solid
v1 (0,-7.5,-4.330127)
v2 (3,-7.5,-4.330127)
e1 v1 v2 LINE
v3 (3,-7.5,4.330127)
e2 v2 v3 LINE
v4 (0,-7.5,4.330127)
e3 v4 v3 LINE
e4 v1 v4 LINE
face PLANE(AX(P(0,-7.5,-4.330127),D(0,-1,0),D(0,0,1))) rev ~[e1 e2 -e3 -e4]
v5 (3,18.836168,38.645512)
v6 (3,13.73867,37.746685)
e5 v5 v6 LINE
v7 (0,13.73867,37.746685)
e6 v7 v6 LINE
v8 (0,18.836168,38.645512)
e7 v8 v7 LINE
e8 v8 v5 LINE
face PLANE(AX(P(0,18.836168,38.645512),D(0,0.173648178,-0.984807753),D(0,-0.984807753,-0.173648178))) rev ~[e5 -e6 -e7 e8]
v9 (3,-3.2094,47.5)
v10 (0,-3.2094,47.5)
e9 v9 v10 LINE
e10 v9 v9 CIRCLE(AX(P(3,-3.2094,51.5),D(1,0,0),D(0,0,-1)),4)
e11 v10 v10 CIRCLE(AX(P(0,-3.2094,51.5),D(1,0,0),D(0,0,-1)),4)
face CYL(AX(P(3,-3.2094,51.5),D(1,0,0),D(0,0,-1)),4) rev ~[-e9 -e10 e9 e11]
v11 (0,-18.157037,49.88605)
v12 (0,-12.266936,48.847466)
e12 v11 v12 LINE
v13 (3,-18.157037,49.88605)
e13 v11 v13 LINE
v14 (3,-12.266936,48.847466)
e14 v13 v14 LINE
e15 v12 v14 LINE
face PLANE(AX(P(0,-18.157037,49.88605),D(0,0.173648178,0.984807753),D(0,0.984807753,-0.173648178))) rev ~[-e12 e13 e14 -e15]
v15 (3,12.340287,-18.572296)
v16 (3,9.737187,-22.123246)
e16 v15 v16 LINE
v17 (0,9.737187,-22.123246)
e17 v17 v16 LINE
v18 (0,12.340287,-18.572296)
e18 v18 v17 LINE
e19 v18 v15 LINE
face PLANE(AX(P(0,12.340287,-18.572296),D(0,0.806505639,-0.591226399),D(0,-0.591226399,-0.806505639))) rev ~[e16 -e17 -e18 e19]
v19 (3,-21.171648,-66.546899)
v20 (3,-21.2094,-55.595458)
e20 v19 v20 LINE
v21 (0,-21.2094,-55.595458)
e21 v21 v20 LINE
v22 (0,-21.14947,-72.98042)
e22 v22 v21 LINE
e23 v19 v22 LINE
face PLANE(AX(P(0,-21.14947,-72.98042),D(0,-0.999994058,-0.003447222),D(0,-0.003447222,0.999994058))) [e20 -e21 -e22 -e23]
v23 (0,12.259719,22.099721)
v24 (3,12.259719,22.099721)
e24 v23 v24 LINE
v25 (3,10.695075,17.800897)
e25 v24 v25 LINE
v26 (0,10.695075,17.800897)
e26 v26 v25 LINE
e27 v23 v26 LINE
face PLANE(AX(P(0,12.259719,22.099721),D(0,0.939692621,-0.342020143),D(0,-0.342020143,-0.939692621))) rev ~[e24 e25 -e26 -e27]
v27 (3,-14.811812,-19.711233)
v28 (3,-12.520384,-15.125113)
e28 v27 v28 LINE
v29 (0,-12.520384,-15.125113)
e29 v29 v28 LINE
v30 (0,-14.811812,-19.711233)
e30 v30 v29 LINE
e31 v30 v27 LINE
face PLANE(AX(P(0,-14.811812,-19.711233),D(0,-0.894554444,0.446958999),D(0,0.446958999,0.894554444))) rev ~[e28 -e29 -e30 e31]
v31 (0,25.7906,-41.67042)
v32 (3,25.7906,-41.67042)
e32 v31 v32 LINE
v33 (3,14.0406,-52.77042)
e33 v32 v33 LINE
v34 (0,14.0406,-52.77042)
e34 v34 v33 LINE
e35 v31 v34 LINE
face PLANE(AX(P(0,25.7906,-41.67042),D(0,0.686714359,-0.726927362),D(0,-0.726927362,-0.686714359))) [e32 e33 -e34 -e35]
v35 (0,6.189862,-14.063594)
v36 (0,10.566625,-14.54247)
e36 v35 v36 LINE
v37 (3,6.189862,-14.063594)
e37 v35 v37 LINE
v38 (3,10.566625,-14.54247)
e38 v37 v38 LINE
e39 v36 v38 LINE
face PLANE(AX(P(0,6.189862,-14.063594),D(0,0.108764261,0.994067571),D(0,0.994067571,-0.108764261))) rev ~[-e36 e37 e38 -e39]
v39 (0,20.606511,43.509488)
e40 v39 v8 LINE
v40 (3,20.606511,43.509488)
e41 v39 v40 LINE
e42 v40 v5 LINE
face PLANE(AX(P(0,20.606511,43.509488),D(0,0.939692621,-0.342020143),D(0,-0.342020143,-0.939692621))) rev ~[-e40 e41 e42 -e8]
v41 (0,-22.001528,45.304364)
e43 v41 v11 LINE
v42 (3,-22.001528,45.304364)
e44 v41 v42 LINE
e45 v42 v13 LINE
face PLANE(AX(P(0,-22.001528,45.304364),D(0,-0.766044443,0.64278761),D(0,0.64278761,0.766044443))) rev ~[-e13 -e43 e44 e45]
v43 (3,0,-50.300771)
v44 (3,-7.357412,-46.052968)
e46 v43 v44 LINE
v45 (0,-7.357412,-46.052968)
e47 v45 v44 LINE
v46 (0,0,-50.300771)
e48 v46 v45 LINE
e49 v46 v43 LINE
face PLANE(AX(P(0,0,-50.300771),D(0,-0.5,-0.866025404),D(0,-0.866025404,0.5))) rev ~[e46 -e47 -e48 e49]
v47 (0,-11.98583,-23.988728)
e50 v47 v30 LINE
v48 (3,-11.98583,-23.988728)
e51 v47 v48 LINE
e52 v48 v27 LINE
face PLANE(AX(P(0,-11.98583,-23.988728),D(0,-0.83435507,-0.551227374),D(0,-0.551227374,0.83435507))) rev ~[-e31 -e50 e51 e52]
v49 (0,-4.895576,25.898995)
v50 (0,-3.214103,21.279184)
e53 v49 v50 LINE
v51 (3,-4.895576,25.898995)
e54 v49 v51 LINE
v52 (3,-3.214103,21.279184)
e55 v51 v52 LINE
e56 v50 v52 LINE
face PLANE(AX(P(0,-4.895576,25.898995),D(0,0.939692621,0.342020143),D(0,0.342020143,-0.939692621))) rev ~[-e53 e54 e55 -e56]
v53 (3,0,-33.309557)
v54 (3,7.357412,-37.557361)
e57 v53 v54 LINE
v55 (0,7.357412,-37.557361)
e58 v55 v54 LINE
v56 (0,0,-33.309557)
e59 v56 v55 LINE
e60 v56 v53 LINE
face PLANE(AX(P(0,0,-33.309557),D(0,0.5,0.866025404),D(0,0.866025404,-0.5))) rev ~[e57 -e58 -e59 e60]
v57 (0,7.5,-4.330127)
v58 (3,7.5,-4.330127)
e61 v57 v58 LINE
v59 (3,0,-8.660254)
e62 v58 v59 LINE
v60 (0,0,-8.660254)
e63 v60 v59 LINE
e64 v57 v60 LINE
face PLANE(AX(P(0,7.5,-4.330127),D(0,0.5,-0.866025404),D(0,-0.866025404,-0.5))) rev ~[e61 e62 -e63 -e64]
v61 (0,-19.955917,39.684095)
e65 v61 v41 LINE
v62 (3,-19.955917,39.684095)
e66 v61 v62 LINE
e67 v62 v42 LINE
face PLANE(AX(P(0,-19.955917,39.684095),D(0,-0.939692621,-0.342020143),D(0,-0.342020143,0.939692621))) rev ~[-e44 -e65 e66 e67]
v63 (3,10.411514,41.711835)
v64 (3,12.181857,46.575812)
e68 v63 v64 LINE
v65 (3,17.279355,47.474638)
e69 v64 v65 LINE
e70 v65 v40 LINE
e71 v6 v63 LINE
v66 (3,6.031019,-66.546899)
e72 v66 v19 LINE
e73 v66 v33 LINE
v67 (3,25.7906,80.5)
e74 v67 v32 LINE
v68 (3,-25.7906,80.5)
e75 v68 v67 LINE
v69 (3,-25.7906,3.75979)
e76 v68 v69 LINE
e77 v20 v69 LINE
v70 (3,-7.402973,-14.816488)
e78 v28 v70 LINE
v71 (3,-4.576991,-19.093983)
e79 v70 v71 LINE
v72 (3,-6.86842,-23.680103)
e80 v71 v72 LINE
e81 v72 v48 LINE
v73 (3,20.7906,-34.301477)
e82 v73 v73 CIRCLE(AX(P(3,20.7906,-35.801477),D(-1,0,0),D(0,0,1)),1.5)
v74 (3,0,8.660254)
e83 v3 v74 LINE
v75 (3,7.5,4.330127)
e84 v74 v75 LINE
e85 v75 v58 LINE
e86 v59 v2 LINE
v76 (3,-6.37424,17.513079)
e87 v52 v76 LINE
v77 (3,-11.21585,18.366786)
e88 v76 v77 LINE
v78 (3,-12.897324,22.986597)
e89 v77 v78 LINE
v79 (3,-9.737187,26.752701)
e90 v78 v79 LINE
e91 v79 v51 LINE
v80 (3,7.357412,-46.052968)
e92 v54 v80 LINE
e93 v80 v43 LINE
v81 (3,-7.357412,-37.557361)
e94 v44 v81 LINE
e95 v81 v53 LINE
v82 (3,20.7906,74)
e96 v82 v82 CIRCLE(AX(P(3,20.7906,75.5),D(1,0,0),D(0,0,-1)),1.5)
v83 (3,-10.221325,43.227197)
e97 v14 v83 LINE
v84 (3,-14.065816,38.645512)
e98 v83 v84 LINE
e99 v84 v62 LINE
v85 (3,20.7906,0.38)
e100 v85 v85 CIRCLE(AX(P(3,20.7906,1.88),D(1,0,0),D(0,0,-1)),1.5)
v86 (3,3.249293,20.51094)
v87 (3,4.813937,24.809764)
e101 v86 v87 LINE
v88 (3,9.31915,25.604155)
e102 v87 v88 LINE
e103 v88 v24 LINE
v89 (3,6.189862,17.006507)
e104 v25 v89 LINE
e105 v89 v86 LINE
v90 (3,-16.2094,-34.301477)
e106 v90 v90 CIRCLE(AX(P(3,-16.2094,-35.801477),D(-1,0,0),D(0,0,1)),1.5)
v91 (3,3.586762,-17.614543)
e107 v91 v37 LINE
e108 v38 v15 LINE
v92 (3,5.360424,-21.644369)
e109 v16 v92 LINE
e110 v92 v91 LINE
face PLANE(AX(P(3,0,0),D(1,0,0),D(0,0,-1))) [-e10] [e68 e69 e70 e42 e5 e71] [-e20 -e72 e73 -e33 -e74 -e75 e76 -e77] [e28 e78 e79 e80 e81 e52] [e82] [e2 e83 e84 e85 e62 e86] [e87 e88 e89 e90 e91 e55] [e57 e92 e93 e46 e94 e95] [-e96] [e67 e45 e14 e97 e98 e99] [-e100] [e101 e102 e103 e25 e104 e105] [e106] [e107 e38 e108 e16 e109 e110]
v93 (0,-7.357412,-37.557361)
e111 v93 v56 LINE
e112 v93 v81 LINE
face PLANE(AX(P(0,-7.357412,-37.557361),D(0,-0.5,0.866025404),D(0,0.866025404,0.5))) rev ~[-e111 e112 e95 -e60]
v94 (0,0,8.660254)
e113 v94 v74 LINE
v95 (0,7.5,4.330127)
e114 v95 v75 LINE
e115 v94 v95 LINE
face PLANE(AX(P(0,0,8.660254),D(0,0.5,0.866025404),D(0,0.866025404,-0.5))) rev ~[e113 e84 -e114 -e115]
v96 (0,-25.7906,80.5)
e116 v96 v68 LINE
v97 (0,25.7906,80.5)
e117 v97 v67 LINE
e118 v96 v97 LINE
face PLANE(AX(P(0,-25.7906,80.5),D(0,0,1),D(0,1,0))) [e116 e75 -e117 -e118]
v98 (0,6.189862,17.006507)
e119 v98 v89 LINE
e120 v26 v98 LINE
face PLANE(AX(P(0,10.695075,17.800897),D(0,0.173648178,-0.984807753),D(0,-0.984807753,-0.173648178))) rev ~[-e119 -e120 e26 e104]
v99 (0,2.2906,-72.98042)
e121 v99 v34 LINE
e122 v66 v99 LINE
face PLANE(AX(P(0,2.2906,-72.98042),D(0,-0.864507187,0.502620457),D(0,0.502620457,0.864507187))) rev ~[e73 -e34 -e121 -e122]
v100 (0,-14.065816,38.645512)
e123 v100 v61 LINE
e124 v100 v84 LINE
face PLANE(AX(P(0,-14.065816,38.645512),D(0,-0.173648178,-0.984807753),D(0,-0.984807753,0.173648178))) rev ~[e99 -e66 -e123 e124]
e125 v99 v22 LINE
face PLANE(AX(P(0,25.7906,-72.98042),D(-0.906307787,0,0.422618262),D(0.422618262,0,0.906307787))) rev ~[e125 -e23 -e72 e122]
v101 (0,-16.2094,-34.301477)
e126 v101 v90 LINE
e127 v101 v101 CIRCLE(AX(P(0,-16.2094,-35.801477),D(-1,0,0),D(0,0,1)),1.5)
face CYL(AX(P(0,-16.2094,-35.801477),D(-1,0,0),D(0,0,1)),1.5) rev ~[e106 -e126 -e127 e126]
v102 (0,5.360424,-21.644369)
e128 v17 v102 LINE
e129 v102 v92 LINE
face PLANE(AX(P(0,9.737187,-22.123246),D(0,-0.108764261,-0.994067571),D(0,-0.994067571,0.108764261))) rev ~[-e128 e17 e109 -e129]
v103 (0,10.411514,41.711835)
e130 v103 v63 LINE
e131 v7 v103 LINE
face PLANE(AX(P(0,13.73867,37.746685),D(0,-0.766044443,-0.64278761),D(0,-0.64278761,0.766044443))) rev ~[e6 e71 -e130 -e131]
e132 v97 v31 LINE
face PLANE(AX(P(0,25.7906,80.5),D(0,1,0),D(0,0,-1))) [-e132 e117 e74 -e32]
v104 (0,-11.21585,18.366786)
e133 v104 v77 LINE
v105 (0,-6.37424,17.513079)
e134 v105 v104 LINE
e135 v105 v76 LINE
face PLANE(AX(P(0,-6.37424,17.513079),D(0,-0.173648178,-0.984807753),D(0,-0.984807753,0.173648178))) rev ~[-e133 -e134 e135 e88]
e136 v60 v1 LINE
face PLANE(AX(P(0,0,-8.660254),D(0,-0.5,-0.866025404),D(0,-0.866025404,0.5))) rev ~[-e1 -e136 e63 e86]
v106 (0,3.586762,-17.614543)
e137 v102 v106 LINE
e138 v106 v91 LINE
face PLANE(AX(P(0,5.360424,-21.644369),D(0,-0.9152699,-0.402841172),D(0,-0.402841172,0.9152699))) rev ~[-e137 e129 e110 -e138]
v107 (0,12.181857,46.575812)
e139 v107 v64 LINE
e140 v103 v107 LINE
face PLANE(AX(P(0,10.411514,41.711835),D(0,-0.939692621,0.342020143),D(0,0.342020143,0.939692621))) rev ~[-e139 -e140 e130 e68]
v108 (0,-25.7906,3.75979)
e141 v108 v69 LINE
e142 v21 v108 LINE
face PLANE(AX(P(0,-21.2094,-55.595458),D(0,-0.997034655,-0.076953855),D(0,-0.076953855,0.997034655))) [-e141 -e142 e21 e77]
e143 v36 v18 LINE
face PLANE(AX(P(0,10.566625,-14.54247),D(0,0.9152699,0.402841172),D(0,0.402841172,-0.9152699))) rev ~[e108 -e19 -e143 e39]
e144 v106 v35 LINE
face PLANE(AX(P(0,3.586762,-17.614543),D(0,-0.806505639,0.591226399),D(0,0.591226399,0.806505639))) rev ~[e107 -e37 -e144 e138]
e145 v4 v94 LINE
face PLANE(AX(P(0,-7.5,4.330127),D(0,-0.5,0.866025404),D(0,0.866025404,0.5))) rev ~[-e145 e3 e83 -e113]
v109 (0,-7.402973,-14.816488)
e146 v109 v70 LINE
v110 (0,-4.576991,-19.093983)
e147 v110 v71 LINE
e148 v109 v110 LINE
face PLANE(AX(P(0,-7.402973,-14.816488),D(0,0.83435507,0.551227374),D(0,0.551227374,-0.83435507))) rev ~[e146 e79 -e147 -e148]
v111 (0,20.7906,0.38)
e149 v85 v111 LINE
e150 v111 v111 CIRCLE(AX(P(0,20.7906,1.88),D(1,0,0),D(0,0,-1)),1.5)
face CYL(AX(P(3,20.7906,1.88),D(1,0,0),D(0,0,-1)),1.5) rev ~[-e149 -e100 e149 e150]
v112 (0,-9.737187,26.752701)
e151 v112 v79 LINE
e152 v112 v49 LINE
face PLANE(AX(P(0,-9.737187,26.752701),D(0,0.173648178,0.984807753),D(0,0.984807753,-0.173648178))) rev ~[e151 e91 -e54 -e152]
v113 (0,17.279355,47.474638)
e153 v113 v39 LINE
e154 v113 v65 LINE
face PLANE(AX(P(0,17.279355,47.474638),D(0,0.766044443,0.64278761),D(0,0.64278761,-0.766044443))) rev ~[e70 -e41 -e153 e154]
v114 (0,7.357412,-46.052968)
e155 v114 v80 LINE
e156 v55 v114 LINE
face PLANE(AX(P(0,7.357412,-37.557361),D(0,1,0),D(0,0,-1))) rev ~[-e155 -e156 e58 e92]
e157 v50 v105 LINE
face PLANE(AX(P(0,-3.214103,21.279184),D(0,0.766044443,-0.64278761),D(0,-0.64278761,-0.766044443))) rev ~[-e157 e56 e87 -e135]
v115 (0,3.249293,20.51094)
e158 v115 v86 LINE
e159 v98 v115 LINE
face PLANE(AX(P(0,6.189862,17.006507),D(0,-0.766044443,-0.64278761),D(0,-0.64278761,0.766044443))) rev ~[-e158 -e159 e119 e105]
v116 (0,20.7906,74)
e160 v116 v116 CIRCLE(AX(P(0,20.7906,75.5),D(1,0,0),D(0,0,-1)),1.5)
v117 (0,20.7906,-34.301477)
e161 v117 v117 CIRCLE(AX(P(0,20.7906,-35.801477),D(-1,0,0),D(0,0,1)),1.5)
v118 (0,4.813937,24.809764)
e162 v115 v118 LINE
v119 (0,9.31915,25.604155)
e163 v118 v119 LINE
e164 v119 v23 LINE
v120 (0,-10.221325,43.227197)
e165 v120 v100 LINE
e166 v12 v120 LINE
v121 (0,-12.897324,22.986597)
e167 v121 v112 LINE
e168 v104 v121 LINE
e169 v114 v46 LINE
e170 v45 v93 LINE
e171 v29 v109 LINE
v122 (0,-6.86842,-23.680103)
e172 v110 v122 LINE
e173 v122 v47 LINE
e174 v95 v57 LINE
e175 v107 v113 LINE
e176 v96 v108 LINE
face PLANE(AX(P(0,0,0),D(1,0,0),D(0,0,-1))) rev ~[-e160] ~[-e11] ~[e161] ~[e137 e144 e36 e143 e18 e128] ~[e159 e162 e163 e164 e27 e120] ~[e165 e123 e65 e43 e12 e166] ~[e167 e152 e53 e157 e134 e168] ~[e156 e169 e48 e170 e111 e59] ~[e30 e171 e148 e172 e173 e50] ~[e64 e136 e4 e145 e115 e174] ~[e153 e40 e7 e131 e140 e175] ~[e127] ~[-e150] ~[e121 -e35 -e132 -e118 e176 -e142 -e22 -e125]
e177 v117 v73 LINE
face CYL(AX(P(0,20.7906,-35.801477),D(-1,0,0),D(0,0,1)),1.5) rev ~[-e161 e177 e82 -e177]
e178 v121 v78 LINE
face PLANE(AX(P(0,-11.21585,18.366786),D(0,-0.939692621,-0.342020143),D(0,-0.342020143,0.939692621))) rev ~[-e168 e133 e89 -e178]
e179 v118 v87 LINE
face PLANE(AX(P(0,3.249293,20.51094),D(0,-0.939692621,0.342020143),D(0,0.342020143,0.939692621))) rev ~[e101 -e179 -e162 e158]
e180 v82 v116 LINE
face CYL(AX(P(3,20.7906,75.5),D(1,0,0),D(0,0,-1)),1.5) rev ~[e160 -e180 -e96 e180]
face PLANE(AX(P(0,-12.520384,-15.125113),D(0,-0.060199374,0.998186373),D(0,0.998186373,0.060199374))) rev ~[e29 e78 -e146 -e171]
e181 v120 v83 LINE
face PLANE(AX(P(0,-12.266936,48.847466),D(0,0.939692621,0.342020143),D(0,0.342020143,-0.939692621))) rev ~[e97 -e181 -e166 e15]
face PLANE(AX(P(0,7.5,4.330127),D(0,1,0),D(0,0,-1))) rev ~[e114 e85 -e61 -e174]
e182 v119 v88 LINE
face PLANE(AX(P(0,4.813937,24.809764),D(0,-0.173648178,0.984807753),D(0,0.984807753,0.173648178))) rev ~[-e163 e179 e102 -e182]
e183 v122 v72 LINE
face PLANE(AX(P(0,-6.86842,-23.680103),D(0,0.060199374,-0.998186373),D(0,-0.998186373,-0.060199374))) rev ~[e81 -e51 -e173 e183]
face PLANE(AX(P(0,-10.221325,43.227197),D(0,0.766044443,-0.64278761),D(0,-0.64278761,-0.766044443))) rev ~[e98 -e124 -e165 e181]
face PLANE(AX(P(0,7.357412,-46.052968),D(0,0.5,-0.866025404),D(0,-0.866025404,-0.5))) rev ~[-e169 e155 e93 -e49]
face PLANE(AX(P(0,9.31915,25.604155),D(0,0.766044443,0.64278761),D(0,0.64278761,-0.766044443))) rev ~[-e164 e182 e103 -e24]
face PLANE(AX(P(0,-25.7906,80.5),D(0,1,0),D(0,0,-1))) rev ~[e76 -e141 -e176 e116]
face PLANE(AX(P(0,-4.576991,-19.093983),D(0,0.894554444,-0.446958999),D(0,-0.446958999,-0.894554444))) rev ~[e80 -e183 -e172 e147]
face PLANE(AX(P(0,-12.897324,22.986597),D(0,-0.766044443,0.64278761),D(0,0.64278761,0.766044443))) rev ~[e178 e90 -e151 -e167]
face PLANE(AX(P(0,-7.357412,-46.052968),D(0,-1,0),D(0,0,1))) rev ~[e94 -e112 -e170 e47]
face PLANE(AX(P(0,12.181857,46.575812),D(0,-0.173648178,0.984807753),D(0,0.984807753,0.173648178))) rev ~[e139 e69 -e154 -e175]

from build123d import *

# Parameters (mm, degrees)
CROQUIS1_W              = 161
CROQUIS1_H              = 51.5812
SALIENTE_EXTRUIR1_DEPTH = 3
CORTAR_EXTRUIR1_REACH   = 5
CROQUIS2_R              = 1.5
CROQUIS2_R_2            = 4
CORTAR_EXTRUIR2_REACH   = 5
CROQUIS3_R              = 1.5
CORTAR_EXTRUIR3_REACH   = 53.581
CORTAR_EXTRUIR4_REACH   = 5
CORTAR_EXTRUIR5_REACH   = 5
CORTAR_EXTRUIR6_REACH   = 5
CORTAR_EXTRUIR7_REACH   = 5
CORTAR_EXTRUIR8_REACH   = 5
CROQUIS9_R              = 1.5


with BuildPart() as part:
    # Croquis1 → Saliente-Extruir1 (new body)
    with BuildSketch(Plane(origin=(0, 0, 0), x_dir=(0, 0, -1), z_dir=(1, 0, 0))):
        Rectangle(CROQUIS1_W, CROQUIS1_H)
    extrude(amount=SALIENTE_EXTRUIR1_DEPTH)

    # Croquis2 → Cortar-Extruir1 (cut, up to next)
    with BuildSketch(Plane(origin=(3, 0, 0), x_dir=(0, 0, -1), z_dir=(1, 0, 0)), mode=Mode.PRIVATE) as cortar_extruir1_sk1:
        with Locations((-75.5, 20.7906)):
            Circle(CROQUIS2_R)
    cortar_extruir1_tool1 = extrude(cortar_extruir1_sk1.sketch, amount=-CORTAR_EXTRUIR1_REACH, mode=Mode.PRIVATE) & part.part
    add(cortar_extruir1_tool1.solids().sort_by_distance((3, 20.7906, 75.5))[0], mode=Mode.SUBTRACT)
    # Croquis2 → Cortar-Extruir1 (cut, up to next)
    with BuildSketch(Plane(origin=(3, 0, 0), x_dir=(0, 0, -1), z_dir=(1, 0, 0)), mode=Mode.PRIVATE) as cortar_extruir1_sk2:
        with Locations((-1.88, 20.7906)):
            Circle(CROQUIS2_R)
    cortar_extruir1_tool2 = extrude(cortar_extruir1_sk2.sketch, amount=-CORTAR_EXTRUIR1_REACH, mode=Mode.PRIVATE) & part.part
    add(cortar_extruir1_tool2.solids().sort_by_distance((3, 20.7906, 1.88))[0], mode=Mode.SUBTRACT)
    # Croquis2 → Cortar-Extruir1 (cut, up to next)
    with BuildSketch(Plane(origin=(3, 0, 0), x_dir=(0, 0, -1), z_dir=(1, 0, 0)), mode=Mode.PRIVATE) as cortar_extruir1_sk3:
        with Locations((-51.5, -3.2094)):
            Circle(CROQUIS2_R_2)
    cortar_extruir1_tool3 = extrude(cortar_extruir1_sk3.sketch, amount=-CORTAR_EXTRUIR1_REACH, mode=Mode.PRIVATE) & part.part
    add(cortar_extruir1_tool3.solids().sort_by_distance((3, -3.2094, 51.5))[0], mode=Mode.SUBTRACT)

    # Croquis3 → Cortar-Extruir2 (cut, up to next)
    with BuildSketch(Plane.ZY, mode=Mode.PRIVATE) as cortar_extruir2_sk1:
        with Locations((-35.801477372, -16.2094)):
            Circle(CROQUIS3_R)
    cortar_extruir2_tool1 = extrude(cortar_extruir2_sk1.sketch, amount=-CORTAR_EXTRUIR2_REACH, mode=Mode.PRIVATE) & part.part
    add(cortar_extruir2_tool1.solids().sort_by_distance((0, -16.2094, -35.801477))[0], mode=Mode.SUBTRACT)

    # Croquis4 → Cortar-Extruir3 (cut, up to next)
    with BuildSketch(Plane(origin=(0, 25.7906, 0), x_dir=(1, 0, 0), z_dir=(0, 1, 0)), mode=Mode.PRIVATE) as cortar_extruir3_sk1:
        Polygon((3, 80.5), (0, 80.5), (0, 72.980420108), (3, 66.546899347), align=None)
    cortar_extruir3_tool1 = extrude(cortar_extruir3_sk1.sketch, amount=-CORTAR_EXTRUIR3_REACH, mode=Mode.PRIVATE) & part.part
    add(cortar_extruir3_tool1.solids().sort_by_distance((1.649807, 25.7906, -74.971199))[0], mode=Mode.SUBTRACT)

    # Croquis5 → Cortar-Extruir4 (cut, up to next)
    with BuildSketch(Plane.ZY, mode=Mode.PRIVATE) as cortar_extruir4_sk1:
        Polygon((-72.980420108, -25.7906), (-72.980420108, -21.149469815), (-55.595458212, -21.2094), (3.759789946, -25.7906), align=None)
    cortar_extruir4_tool1 = extrude(cortar_extruir4_sk1.sketch, amount=-CORTAR_EXTRUIR4_REACH, mode=Mode.PRIVATE) & part.part
    add(cortar_extruir4_tool1.solids().sort_by_distance((0, -23.974753, -46.380283))[0], mode=Mode.SUBTRACT)

    # Croquis6 → Cortar-Extruir5 (cut, up to next)
    with BuildSketch(Plane.ZY, mode=Mode.PRIVATE) as cortar_extruir5_sk1:
        Polygon((-72.980420108, 25.7906), (-72.980420108, 2.2906), (-52.770420108, 14.0406), (-52.770420108, 25.7906), align=None)
    cortar_extruir5_tool1 = extrude(cortar_extruir5_sk1.sketch, amount=-CORTAR_EXTRUIR5_REACH, mode=Mode.PRIVATE) & part.part
    add(cortar_extruir5_tool1.solids().sort_by_distance((0, 16.651711, -63.998198))[0], mode=Mode.SUBTRACT)

    # Croquis7 → Cortar-Extruir6 (cut, up to next)
    with BuildSketch(Plane.ZY, mode=Mode.PRIVATE) as cortar_extruir6_sk1:
        Polygon((-52.770420108, 25.7906), (-41.670420108, 25.7906), (-52.770420108, 14.0406), align=None)
    cortar_extruir6_tool1 = extrude(cortar_extruir6_sk1.sketch, amount=-CORTAR_EXTRUIR6_REACH, mode=Mode.PRIVATE) & part.part
    add(cortar_extruir6_tool1.solids().sort_by_distance((0, 21.873933, -49.07042))[0], mode=Mode.SUBTRACT)

    # Croquis8 → Cortar-Extruir7 (cut, up to next)
    with BuildSketch(Plane.ZY, mode=Mode.PRIVATE) as cortar_extruir7_sk1:
        Polygon((8.660254038, 0), (4.330127019, 7.5), (-4.330127019, 7.5), (-8.660254038, 0), (-4.330127019, -7.5), (4.330127019, -7.5), align=None)
    cortar_extruir7_tool1 = extrude(cortar_extruir7_sk1.sketch, amount=-CORTAR_EXTRUIR7_REACH, mode=Mode.PRIVATE) & part.part
    add(cortar_extruir7_tool1.solids().sort_by_distance((0, 0, 0))[0], mode=Mode.SUBTRACT)
    # Croquis8 → Cortar-Extruir7 (cut, up to next)
    with BuildSketch(Plane.ZY, mode=Mode.PRIVATE) as cortar_extruir7_sk2:
        Polygon((25.604154883, 9.319150251), (22.099721379, 12.259719112), (17.800897292, 10.695075102), (17.006506709, 6.189862231), (20.510940213, 3.24929337), (24.8097643, 4.81393738), align=None)
    cortar_extruir7_tool2 = extrude(cortar_extruir7_sk2.sketch, amount=-CORTAR_EXTRUIR7_REACH, mode=Mode.PRIVATE) & part.part
    add(cortar_extruir7_tool2.solids().sort_by_distance((0, 7.754506, 21.305331))[0], mode=Mode.SUBTRACT)
    # Croquis8 → Cortar-Extruir7 (cut, up to next)
    with BuildSketch(Plane.ZY, mode=Mode.PRIVATE) as cortar_extruir7_sk3:
        Polygon((-23.988727728, -11.985830273), (-19.711232592, -14.811812276), (-15.125112818, -12.520383825), (-14.816488181, -7.402973371), (-19.093983317, -4.576991368), (-23.68010309, -6.868419819), align=None)
    cortar_extruir7_tool3 = extrude(cortar_extruir7_sk3.sketch, amount=-CORTAR_EXTRUIR7_REACH, mode=Mode.PRIVATE) & part.part
    add(cortar_extruir7_tool3.solids().sort_by_distance((0, -9.694402, -19.402608))[0], mode=Mode.SUBTRACT)
    # Croquis8 → Cortar-Extruir7 (cut, up to next)
    with BuildSketch(Plane.ZY, mode=Mode.PRIVATE) as cortar_extruir7_sk4:
        Polygon((-22.123245507, 9.737186974), (-21.644369238, 5.360424201), (-17.614543355, 3.58676183), (-14.063593742, 6.189862231), (-14.542470011, 10.566625004), (-18.572295894, 12.340287376), align=None)
    cortar_extruir7_tool4 = extrude(cortar_extruir7_sk4.sketch, amount=-CORTAR_EXTRUIR7_REACH, mode=Mode.PRIVATE) & part.part
    add(cortar_extruir7_tool4.solids().sort_by_distance((0, 7.963525, -18.09342))[0], mode=Mode.SUBTRACT)
    # Croquis8 → Cortar-Extruir7 (cut, up to next)
    with BuildSketch(Plane.ZY, mode=Mode.PRIVATE) as cortar_extruir7_sk5:
        Polygon((26.752701341, -9.737186974), (25.898994771, -4.895576423), (21.279183753, -3.214102725), (17.513079305, -6.374239578), (18.366785876, -11.215850129), (22.986596894, -12.897323827), align=None)
    cortar_extruir7_tool5 = extrude(cortar_extruir7_sk5.sketch, amount=-CORTAR_EXTRUIR7_REACH, mode=Mode.PRIVATE) & part.part
    add(cortar_extruir7_tool5.solids().sort_by_distance((0, -8.055713, 22.13289))[0], mode=Mode.SUBTRACT)
    # Croquis8 → Cortar-Extruir7 (cut, up to next)
    with BuildSketch(Plane.ZY, mode=Mode.PRIVATE) as cortar_extruir7_sk6:
        Polygon((-50.300771297, 0), (-46.052967767, -7.357411534), (-37.557360708, -7.357411534), (-33.309557178, 0), (-37.557360708, 7.357411534), (-46.052967767, 7.357411534), align=None)
    cortar_extruir7_tool6 = extrude(cortar_extruir7_sk6.sketch, amount=-CORTAR_EXTRUIR7_REACH, mode=Mode.PRIVATE) & part.part
    add(cortar_extruir7_tool6.solids().sort_by_distance((0, 0, -41.805164))[0], mode=Mode.SUBTRACT)
    # Croquis8 → Cortar-Extruir7 (cut, up to next)
    with BuildSketch(Plane.ZY, mode=Mode.PRIVATE) as cortar_extruir7_sk7:
        Polygon((37.746685044, 13.738669798), (41.711835056, 10.411513886), (46.575811604, 12.18185657), (47.474638141, 17.279355166), (43.509488129, 20.606511078), (38.645511581, 18.836168394), align=None)
    cortar_extruir7_tool7 = extrude(cortar_extruir7_sk7.sketch, amount=-CORTAR_EXTRUIR7_REACH, mode=Mode.PRIVATE) & part.part
    add(cortar_extruir7_tool7.solids().sort_by_distance((0, 15.509012, 42.610662))[0], mode=Mode.SUBTRACT)
    # Croquis8 → Cortar-Extruir7 (cut, up to next)
    with BuildSketch(Plane.ZY, mode=Mode.PRIVATE) as cortar_extruir7_sk8:
        Polygon((38.645511581, -14.065815903), (39.684095326, -19.955917015), (45.304364392, -22.001527663), (49.886049713, -18.157037201), (48.847465968, -12.266936089), (43.227196902, -10.221325441), align=None)
    cortar_extruir7_tool8 = extrude(cortar_extruir7_sk8.sketch, amount=-CORTAR_EXTRUIR7_REACH, mode=Mode.PRIVATE) & part.part
    add(cortar_extruir7_tool8.solids().sort_by_distance((0, -16.111427, 44.265781))[0], mode=Mode.SUBTRACT)

    # Croquis9 → Cortar-Extruir8 (cut, up to next)
    with BuildSketch(Plane.ZY, mode=Mode.PRIVATE) as cortar_extruir8_sk1:
        with Locations((-35.801477372, 20.7906)):
            Circle(CROQUIS9_R)
    cortar_extruir8_tool1 = extrude(cortar_extruir8_sk1.sketch, amount=-CORTAR_EXTRUIR8_REACH, mode=Mode.PRIVATE) & part.part
    add(cortar_extruir8_tool1.solids().sort_by_distance((0, 20.7906, -35.801477))[0], mode=Mode.SUBTRACT)


solid = part.part
